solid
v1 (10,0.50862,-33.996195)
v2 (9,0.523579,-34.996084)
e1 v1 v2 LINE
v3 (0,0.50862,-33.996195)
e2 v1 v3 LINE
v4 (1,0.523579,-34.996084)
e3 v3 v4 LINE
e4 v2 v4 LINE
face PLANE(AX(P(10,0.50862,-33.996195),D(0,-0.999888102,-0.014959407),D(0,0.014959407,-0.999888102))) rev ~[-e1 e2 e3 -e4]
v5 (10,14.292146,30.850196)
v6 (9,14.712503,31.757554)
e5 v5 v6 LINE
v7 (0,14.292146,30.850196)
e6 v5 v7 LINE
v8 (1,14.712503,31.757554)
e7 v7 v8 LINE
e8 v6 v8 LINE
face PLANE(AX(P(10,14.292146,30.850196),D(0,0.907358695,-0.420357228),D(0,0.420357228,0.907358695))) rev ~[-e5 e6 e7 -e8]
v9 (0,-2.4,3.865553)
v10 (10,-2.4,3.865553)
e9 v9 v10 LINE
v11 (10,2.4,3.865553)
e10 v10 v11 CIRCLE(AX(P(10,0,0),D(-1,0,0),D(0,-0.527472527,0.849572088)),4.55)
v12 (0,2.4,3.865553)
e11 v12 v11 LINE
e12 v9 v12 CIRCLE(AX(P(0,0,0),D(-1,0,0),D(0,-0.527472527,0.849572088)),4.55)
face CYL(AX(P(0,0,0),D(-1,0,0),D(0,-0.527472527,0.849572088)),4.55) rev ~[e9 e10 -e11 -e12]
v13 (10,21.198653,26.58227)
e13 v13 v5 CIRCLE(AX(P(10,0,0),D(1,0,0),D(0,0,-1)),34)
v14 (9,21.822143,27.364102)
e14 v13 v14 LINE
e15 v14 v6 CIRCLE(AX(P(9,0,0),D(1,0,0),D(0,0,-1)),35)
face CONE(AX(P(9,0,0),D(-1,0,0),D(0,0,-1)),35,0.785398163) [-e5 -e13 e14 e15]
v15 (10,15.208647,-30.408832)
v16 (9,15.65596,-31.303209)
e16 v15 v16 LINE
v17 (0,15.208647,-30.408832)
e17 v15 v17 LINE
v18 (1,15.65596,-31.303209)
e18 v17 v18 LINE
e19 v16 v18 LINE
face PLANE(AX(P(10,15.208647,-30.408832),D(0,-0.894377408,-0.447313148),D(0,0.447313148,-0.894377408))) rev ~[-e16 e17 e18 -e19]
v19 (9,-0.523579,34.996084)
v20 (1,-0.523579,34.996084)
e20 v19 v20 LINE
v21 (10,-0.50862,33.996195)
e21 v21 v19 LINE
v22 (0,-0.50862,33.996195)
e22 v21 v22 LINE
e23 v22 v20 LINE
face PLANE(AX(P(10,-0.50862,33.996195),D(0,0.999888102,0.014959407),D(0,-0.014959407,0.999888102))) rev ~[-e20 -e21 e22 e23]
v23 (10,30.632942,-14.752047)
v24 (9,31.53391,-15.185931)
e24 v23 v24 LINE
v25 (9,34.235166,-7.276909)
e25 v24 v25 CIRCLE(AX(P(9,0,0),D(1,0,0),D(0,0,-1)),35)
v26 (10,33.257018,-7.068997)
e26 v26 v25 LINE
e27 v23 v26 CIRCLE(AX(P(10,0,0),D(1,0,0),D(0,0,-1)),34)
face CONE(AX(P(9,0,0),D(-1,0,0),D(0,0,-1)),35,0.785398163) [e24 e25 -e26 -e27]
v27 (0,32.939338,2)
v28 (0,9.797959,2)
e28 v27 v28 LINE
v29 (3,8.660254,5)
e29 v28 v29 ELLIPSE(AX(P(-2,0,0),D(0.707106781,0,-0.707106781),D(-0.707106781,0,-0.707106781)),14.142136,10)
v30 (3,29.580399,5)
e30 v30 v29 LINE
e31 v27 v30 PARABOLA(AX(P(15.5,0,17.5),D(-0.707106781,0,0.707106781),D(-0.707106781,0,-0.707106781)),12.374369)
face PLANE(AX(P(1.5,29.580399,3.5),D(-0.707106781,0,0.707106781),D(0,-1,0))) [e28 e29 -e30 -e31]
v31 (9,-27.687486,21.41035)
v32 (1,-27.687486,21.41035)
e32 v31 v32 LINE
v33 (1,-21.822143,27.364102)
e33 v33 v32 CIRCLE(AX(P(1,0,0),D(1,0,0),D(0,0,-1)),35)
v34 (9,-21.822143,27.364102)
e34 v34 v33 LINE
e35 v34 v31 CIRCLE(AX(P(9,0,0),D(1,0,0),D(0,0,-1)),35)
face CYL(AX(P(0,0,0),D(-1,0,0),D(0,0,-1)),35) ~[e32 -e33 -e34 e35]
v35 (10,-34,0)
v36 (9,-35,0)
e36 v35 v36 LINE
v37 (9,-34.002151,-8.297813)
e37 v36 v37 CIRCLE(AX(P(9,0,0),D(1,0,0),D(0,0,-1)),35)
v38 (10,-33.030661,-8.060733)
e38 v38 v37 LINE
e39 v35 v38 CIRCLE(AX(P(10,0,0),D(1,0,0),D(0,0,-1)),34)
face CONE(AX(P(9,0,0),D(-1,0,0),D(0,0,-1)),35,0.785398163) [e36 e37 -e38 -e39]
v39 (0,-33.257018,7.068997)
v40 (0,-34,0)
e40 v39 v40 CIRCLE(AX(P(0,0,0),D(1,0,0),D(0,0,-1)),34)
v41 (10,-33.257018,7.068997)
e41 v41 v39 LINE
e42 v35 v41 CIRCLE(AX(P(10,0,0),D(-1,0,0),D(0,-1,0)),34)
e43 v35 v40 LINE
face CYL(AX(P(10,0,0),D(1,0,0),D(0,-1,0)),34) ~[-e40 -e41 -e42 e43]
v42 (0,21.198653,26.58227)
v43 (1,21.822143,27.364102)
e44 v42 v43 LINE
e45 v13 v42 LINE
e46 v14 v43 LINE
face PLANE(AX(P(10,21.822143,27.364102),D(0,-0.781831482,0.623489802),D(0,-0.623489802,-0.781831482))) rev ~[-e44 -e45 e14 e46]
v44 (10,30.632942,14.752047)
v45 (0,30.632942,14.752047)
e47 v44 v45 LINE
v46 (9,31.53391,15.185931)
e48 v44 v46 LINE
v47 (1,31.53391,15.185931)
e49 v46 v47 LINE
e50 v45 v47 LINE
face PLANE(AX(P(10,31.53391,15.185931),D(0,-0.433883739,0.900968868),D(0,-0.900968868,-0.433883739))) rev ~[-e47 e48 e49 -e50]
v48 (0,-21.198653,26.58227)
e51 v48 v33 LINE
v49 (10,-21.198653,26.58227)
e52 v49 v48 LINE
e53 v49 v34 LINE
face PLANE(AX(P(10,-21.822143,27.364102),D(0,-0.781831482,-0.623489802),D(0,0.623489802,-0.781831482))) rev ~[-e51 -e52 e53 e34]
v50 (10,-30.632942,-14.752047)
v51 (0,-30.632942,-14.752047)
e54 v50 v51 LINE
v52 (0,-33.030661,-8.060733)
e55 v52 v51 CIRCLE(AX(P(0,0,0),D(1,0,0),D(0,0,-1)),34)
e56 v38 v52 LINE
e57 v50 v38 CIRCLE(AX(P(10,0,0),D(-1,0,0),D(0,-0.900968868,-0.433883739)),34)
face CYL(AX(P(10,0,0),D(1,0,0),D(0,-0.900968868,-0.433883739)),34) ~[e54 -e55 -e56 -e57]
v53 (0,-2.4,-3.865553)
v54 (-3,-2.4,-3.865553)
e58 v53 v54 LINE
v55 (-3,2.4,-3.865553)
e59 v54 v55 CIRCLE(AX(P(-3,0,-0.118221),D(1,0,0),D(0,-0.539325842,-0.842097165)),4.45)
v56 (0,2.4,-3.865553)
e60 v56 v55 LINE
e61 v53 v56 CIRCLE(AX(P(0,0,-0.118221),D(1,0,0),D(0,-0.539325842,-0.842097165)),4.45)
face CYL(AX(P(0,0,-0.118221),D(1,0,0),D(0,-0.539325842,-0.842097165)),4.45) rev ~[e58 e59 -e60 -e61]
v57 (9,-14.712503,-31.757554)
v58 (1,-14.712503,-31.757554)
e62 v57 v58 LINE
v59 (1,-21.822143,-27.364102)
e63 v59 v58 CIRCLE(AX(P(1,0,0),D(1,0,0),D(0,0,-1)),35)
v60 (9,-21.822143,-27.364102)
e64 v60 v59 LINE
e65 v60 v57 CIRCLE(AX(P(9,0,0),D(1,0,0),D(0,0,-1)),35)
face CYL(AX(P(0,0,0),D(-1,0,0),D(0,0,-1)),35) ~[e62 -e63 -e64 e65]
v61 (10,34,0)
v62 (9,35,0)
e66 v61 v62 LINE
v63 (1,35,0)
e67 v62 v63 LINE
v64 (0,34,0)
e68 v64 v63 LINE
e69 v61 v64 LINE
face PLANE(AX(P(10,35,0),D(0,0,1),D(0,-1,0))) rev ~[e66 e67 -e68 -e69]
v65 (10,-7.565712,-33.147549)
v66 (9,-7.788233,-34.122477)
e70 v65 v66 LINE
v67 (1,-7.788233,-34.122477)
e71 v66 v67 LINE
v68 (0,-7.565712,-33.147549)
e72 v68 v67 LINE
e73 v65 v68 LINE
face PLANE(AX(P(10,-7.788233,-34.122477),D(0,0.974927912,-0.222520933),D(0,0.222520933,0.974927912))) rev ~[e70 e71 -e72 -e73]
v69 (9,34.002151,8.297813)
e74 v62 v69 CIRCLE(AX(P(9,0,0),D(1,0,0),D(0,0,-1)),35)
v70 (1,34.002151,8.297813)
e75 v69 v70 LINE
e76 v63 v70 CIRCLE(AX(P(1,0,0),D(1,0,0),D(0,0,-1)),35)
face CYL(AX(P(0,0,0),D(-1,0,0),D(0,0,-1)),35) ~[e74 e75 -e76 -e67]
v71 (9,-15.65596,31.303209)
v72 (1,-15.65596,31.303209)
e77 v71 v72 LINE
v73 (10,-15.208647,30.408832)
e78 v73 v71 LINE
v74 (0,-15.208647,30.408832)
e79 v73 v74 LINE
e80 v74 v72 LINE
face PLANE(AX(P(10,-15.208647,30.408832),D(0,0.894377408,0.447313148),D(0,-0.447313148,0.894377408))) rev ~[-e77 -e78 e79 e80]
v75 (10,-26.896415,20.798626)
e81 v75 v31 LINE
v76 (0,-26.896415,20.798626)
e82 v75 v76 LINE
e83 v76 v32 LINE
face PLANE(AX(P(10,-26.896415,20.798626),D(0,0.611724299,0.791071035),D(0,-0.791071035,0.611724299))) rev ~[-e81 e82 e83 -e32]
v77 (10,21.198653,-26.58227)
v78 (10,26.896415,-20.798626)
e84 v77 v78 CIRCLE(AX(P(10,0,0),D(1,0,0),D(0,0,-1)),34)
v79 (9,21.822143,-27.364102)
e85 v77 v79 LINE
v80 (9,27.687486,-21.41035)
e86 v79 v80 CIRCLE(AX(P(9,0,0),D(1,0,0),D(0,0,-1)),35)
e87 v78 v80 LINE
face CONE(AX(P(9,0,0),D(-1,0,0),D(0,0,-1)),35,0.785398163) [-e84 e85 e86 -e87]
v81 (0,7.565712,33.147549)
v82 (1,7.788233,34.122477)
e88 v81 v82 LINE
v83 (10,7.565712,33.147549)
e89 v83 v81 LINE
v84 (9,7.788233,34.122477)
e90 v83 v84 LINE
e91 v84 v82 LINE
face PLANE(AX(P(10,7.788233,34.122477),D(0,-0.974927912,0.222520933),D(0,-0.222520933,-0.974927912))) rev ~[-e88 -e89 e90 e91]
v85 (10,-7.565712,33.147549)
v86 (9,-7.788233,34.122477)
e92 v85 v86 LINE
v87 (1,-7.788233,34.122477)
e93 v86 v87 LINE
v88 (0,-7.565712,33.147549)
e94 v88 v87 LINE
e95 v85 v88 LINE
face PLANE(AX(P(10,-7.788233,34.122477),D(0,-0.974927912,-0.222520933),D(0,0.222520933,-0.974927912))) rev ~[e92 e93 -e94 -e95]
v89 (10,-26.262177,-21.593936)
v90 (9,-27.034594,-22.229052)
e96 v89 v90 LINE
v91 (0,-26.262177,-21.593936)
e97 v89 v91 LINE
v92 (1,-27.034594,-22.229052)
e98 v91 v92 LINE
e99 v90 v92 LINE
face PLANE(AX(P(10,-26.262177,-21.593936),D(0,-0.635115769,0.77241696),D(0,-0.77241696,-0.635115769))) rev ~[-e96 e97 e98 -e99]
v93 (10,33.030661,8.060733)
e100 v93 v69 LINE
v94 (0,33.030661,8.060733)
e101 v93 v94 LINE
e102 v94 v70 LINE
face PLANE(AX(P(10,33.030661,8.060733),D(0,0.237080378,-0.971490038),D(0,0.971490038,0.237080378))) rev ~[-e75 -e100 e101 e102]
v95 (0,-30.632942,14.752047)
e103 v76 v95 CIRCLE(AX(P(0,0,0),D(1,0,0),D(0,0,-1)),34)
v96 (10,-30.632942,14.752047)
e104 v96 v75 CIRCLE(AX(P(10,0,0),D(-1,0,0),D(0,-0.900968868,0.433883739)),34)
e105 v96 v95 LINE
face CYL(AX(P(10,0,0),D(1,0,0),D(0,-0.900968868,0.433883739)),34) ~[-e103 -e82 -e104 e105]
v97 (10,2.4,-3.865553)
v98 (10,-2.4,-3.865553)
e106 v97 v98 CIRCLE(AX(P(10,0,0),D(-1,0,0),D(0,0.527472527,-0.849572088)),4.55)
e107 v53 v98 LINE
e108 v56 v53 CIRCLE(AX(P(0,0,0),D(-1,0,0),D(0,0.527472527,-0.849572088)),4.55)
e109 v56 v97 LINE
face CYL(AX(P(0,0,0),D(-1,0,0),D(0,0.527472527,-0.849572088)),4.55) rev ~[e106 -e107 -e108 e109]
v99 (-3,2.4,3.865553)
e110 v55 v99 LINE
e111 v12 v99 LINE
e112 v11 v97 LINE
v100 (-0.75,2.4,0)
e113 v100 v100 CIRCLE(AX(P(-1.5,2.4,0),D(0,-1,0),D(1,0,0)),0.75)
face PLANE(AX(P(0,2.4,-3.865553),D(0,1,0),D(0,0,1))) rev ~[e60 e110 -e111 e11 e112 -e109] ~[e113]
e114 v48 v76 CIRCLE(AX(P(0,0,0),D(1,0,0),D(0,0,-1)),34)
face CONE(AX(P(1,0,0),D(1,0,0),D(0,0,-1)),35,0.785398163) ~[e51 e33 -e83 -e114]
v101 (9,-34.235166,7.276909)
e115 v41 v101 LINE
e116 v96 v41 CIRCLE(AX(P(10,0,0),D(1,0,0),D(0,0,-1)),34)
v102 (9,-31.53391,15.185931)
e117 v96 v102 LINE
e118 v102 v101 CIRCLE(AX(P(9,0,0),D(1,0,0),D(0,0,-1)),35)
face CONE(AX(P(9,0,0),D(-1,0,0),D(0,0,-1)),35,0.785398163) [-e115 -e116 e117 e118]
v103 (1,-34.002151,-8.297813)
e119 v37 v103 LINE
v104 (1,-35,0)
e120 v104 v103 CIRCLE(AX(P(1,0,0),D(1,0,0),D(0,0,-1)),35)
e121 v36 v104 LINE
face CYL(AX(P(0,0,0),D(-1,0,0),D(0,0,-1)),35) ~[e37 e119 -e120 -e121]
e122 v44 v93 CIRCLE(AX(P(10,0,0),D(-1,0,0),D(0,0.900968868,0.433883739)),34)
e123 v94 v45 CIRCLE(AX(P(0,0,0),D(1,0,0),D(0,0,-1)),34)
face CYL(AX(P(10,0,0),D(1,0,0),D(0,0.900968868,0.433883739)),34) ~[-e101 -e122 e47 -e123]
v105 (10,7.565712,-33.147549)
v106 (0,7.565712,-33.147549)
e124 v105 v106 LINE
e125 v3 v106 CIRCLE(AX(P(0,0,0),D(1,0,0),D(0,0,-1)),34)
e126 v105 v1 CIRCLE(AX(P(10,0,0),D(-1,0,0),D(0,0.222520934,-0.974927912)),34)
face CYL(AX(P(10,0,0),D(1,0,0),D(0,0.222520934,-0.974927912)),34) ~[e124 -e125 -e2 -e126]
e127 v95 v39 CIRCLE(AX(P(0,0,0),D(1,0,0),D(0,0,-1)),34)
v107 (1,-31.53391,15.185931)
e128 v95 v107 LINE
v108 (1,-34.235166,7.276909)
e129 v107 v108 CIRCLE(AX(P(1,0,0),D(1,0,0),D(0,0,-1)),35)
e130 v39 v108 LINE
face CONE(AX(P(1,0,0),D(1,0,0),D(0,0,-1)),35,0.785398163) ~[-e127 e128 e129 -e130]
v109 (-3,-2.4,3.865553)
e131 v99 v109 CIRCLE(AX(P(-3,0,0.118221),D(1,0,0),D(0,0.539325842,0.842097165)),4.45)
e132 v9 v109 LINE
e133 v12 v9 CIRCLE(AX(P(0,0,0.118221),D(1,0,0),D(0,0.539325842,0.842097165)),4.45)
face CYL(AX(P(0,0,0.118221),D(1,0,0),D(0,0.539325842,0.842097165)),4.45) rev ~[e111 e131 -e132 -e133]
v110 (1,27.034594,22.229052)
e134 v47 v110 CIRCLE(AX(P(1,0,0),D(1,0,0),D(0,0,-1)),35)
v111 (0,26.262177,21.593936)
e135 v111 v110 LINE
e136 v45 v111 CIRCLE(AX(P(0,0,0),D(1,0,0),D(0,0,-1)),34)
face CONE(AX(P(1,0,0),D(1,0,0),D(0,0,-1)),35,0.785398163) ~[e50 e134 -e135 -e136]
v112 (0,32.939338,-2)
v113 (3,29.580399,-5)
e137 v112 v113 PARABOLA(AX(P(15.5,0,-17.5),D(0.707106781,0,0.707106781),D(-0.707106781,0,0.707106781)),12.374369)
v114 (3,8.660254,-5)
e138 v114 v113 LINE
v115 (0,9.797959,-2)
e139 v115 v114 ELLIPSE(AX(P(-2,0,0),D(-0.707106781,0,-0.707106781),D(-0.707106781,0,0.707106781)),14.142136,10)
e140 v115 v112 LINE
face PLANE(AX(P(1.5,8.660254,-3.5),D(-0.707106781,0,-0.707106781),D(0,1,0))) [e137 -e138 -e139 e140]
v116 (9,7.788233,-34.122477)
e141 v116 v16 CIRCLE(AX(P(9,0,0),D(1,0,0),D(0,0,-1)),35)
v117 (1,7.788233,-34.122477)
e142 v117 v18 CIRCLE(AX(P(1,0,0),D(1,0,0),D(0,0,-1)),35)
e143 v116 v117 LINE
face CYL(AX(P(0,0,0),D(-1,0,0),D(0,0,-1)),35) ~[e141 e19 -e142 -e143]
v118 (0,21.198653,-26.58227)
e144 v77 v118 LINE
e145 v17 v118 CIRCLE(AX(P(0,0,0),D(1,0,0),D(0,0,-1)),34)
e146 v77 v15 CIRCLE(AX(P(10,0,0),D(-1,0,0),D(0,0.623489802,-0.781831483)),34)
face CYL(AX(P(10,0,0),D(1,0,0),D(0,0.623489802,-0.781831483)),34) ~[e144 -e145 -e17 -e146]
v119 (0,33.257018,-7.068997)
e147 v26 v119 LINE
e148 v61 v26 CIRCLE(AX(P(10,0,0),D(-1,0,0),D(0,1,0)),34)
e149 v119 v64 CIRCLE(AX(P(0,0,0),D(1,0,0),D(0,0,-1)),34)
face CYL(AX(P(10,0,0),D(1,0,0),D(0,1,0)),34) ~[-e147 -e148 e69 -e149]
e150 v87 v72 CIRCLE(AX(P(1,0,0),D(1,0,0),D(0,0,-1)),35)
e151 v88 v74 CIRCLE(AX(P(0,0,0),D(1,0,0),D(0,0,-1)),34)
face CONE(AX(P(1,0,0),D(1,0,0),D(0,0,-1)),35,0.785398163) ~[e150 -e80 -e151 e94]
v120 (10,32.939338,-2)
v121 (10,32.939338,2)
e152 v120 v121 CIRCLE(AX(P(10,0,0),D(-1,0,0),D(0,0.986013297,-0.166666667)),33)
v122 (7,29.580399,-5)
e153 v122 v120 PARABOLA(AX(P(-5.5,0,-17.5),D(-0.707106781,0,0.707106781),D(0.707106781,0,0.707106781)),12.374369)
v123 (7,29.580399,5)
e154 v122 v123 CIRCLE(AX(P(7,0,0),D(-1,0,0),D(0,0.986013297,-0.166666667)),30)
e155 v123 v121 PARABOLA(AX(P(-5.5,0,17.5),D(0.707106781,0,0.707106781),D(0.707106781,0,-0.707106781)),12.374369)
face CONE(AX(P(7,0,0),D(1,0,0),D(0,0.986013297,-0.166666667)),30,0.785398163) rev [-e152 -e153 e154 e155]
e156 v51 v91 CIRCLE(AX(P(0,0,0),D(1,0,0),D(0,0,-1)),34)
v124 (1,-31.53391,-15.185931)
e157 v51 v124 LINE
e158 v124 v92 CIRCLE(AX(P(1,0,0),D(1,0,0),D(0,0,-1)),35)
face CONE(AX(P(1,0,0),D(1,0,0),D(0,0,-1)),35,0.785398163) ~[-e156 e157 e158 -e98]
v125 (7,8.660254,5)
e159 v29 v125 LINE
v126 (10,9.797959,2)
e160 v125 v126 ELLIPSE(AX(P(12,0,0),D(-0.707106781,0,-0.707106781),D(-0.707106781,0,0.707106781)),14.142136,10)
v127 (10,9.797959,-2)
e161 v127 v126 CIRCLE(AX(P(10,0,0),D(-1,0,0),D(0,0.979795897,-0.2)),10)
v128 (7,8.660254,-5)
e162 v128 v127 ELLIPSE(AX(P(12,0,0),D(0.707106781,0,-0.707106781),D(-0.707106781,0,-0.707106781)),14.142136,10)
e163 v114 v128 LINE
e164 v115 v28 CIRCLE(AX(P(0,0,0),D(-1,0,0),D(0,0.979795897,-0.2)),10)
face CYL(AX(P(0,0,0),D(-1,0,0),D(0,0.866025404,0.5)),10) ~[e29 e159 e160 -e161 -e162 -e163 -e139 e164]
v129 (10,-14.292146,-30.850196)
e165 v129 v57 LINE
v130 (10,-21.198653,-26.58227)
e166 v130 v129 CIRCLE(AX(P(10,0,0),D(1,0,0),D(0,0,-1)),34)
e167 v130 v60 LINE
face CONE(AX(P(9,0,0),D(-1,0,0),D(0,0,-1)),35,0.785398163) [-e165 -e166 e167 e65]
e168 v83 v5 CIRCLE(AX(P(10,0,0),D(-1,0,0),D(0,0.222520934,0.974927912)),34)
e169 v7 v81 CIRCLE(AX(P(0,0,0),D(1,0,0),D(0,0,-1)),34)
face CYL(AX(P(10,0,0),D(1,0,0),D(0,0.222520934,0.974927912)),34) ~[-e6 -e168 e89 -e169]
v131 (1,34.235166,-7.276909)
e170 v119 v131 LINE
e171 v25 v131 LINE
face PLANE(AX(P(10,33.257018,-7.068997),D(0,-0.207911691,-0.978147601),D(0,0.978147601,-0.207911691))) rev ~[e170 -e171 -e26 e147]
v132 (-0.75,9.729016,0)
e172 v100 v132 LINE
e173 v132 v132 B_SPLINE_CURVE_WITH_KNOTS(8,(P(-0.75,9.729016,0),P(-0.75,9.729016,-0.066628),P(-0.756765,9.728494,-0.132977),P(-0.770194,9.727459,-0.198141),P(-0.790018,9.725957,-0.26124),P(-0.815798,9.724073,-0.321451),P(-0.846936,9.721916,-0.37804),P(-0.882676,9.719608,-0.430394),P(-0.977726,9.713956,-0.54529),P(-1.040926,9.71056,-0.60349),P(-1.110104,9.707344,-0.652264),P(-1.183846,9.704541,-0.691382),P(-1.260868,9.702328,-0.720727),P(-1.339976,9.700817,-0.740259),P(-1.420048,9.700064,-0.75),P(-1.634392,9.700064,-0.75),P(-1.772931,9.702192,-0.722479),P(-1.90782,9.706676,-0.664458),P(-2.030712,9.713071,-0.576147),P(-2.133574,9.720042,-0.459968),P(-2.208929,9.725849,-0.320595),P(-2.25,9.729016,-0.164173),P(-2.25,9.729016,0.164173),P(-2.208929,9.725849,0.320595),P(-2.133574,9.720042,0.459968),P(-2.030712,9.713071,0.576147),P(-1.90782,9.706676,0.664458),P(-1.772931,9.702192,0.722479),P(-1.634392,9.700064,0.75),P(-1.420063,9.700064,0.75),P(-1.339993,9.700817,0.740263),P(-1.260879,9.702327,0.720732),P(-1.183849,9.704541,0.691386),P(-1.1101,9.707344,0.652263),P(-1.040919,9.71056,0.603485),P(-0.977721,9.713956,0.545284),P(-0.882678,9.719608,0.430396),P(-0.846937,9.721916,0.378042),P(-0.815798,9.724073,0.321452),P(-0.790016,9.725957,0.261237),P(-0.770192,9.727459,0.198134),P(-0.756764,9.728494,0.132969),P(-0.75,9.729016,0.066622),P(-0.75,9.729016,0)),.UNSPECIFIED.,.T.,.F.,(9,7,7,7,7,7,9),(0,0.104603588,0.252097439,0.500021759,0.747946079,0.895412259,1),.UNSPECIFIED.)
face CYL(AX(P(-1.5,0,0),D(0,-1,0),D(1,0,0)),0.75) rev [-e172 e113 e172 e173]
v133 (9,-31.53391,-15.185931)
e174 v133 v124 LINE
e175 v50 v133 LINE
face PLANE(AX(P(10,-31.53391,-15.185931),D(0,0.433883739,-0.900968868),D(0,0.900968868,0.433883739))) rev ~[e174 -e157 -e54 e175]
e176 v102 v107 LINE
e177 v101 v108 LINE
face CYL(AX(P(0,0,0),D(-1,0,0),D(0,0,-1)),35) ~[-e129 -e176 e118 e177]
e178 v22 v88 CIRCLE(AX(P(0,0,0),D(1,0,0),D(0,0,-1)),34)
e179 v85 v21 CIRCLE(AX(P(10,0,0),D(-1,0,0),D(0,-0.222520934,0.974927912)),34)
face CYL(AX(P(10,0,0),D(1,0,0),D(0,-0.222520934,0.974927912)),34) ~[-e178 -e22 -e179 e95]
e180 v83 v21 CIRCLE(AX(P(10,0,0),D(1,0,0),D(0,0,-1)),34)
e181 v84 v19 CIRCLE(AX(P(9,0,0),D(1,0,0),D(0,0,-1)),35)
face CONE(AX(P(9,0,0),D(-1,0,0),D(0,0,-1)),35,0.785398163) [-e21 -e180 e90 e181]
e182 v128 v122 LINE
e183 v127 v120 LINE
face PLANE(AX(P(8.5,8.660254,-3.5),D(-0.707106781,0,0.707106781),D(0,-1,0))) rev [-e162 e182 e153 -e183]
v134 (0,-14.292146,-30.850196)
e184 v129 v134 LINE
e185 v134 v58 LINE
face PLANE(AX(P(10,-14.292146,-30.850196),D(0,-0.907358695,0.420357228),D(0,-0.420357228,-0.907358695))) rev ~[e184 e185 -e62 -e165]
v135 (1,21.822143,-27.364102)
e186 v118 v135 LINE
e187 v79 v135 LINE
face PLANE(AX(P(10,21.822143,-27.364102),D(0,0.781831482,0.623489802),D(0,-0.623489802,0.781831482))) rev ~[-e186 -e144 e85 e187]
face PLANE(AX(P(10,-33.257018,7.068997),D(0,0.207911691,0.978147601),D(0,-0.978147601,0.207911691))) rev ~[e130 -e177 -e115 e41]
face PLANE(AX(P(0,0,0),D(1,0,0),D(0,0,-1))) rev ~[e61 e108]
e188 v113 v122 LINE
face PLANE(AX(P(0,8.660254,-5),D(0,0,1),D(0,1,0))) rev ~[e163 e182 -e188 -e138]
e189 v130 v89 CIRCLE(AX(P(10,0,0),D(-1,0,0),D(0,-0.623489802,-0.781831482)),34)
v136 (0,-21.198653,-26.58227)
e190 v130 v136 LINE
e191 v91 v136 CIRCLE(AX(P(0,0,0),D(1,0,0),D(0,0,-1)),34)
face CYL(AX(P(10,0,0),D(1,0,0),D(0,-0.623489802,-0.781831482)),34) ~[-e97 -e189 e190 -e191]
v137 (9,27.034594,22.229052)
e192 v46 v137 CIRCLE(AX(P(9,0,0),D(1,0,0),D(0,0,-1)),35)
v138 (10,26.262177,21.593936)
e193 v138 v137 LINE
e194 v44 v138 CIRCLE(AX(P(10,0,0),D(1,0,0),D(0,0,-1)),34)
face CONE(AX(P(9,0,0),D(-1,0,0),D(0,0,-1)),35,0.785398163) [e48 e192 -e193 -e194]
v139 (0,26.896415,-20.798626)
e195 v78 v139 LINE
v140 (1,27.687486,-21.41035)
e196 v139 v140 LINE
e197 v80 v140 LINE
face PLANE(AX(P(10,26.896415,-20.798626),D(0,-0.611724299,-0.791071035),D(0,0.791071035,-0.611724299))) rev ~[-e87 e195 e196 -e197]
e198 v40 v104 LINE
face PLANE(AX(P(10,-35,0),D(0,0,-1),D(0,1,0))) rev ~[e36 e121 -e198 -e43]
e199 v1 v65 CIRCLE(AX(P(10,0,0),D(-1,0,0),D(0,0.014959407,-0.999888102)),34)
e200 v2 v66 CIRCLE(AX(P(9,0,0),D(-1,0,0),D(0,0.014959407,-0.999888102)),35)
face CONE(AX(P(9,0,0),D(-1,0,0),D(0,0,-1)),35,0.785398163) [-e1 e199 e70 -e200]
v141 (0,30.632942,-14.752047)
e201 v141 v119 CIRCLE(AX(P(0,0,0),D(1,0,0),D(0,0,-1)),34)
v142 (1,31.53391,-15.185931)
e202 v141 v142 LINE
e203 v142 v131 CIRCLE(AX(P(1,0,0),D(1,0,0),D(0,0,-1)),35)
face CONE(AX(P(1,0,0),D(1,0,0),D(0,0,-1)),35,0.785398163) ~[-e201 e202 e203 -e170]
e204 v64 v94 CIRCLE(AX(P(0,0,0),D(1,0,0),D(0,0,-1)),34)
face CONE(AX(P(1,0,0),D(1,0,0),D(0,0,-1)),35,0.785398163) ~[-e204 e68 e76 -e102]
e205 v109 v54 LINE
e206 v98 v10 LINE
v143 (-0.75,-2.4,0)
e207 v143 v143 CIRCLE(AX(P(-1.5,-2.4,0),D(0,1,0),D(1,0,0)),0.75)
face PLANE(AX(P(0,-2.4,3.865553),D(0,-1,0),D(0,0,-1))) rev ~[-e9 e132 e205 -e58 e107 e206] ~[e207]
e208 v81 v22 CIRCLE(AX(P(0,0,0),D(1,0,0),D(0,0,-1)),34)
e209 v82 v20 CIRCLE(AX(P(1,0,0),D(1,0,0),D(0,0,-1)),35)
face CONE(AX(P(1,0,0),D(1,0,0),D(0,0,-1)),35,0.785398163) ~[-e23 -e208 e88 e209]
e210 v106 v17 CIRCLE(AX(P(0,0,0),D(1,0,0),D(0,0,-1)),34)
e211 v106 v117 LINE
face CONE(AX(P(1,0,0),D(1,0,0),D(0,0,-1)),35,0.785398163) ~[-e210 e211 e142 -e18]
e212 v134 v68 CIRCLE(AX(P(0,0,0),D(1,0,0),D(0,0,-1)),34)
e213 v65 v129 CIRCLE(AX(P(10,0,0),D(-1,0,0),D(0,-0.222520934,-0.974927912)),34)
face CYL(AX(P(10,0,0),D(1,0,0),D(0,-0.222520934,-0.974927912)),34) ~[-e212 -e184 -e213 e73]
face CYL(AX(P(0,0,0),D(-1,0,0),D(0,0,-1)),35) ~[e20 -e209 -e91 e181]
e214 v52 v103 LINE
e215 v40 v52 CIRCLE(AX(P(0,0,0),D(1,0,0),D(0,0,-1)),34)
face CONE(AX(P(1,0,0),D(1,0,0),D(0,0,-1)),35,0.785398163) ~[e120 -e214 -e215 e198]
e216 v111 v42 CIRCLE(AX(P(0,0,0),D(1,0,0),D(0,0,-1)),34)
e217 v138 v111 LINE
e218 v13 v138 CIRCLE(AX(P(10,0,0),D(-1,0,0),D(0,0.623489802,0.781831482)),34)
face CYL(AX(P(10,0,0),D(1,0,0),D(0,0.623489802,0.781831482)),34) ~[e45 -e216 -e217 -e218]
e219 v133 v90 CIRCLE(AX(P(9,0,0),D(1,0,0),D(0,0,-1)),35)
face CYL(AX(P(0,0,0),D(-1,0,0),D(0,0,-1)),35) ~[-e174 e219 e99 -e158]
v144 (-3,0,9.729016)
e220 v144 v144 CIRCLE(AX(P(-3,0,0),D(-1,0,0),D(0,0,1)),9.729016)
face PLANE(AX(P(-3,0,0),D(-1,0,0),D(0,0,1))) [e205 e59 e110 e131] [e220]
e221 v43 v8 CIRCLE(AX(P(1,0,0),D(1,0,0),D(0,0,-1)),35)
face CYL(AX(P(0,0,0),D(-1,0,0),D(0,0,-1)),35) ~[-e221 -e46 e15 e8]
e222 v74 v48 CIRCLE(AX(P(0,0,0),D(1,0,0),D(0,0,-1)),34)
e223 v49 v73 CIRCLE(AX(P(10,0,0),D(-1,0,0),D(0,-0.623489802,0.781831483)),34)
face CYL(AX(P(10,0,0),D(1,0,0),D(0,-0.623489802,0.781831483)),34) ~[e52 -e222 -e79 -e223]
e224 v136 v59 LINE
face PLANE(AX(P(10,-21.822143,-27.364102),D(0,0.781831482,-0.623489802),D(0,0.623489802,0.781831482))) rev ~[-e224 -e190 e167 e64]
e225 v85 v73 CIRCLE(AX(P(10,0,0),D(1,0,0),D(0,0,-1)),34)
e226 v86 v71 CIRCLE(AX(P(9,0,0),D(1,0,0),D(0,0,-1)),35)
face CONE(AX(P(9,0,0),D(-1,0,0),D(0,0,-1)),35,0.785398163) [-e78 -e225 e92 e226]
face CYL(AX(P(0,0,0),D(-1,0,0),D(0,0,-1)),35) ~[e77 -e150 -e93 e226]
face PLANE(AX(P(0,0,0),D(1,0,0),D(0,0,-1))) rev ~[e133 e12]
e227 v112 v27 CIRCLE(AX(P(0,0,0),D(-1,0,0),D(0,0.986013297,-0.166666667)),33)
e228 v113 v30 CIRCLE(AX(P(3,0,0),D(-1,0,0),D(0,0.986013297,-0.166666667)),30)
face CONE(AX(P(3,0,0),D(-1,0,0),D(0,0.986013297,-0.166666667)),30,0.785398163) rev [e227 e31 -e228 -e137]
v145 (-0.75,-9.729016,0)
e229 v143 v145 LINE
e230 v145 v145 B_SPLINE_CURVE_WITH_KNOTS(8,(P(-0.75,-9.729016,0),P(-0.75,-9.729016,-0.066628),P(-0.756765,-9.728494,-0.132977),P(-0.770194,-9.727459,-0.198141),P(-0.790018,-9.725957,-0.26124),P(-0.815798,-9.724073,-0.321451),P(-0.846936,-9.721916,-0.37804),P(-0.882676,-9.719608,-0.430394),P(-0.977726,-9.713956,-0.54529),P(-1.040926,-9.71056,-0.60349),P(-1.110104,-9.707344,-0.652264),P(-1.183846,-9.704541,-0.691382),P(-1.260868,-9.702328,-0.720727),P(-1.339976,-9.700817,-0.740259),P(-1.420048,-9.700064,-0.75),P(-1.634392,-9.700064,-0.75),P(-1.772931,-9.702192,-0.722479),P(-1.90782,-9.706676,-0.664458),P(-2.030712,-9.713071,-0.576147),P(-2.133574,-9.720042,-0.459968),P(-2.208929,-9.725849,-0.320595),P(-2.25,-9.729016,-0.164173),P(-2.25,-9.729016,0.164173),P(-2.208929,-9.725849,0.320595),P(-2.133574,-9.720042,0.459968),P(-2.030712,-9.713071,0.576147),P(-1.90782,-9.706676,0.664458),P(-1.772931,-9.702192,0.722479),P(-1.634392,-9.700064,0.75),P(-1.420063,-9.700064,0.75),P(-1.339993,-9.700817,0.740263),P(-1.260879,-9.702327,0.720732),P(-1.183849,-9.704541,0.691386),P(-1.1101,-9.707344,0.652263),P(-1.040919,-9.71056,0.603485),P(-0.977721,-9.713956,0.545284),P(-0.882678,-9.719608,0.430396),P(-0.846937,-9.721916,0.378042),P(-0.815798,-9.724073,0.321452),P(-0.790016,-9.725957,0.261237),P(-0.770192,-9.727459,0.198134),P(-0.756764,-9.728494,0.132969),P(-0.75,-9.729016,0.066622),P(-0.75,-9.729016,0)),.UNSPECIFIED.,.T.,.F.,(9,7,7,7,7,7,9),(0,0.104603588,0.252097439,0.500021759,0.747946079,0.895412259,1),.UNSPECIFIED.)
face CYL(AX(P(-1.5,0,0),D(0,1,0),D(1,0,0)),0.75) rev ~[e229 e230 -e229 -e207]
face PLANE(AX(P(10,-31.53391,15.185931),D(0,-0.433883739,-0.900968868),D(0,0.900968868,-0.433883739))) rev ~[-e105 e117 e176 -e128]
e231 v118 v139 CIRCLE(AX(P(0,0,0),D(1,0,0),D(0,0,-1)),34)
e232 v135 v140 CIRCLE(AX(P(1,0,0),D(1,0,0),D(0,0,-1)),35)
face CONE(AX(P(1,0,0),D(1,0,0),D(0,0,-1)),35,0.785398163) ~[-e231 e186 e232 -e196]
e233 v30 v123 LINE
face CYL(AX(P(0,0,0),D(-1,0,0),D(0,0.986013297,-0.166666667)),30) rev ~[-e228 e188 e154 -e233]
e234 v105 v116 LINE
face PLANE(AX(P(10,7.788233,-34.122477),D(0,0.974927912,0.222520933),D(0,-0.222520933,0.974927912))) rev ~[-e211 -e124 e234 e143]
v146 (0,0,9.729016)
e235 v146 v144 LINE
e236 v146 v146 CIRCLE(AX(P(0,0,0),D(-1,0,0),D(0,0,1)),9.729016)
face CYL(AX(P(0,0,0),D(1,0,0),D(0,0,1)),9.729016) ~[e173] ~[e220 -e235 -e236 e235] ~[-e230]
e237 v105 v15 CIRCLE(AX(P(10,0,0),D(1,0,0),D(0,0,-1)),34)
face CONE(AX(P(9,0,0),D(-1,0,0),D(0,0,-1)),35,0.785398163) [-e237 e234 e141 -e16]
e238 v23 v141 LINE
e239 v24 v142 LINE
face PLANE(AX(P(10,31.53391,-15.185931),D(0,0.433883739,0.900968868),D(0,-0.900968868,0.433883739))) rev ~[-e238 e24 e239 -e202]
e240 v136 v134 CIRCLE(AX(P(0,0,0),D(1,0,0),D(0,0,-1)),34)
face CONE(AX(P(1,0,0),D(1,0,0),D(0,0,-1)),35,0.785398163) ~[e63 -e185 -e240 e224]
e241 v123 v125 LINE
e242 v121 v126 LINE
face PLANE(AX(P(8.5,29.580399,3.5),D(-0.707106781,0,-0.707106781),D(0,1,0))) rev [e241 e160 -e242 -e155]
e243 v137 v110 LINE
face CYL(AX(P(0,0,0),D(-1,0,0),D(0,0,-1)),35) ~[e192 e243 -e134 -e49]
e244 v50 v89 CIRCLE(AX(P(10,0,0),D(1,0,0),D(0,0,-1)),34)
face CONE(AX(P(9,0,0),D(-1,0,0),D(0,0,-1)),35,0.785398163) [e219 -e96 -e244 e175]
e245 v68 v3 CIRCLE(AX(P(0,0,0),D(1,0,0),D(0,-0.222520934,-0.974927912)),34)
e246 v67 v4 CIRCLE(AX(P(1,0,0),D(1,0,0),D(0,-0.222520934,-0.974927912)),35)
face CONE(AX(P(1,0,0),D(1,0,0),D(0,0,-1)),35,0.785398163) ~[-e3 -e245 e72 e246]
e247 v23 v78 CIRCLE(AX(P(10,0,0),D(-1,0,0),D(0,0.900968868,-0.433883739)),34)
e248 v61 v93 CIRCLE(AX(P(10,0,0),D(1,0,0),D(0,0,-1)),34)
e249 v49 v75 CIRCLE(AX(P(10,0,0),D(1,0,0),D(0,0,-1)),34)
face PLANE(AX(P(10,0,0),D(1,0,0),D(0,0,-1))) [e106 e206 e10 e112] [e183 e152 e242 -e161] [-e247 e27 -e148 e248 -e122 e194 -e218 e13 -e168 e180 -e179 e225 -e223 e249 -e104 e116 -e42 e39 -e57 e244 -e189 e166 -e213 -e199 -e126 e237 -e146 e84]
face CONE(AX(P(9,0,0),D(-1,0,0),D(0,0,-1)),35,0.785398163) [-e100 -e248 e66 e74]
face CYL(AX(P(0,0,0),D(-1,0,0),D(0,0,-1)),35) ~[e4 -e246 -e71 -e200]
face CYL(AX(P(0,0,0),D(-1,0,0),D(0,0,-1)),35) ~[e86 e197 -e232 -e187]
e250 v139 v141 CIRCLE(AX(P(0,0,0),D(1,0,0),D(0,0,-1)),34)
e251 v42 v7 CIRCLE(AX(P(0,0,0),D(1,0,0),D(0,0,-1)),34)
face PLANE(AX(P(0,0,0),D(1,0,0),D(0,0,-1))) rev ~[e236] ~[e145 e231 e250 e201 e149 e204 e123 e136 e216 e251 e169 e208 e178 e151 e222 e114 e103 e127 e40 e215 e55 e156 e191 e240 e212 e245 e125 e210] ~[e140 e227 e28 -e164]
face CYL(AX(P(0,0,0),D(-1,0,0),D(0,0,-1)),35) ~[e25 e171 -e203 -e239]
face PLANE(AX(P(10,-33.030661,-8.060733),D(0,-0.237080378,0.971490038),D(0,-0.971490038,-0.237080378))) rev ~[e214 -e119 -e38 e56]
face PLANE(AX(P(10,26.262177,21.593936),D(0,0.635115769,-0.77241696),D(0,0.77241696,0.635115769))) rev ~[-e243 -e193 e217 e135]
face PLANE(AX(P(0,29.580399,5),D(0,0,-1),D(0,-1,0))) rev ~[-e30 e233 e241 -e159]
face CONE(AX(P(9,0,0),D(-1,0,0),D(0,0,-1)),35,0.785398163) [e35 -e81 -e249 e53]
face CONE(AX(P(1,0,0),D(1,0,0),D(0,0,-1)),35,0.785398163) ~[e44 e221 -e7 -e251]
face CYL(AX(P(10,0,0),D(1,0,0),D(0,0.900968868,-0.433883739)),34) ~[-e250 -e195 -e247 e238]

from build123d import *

# Parameters (mm, degrees)
SKETCH1_R               = 35
BOSS_EXTRUDE1_DEPTH     = 10
CHAMFER1_SIZE           = 1
CUT_EXTRUDE1_DEPTH      = 11
SKETCH3_R               = 1.5
CUT_EXTRUDE2_DEPTH      = 11
CUT_EXTRUDE3_DEPTH      = 10
SKETCH5_R               = 9.729015648
BOSS_EXTRUDE2_DEPTH     = 3
SKETCH6_R               = 0.75
CUT_EXTRUDE4_DEPTH      = 36
CUT_EXTRUDE4_DEPTH_BACK = 36
CHAMFER2_SIZE           = 3


with BuildPart() as part:
    # Sketch1 → Boss-Extrude1 (new body)
    with BuildSketch(Plane(origin=(0, 0, 0), x_dir=(0, 0, -1), z_dir=(1, 0, 0))):
        Circle(SKETCH1_R)
        with BuildLine():
            Line((-5, 29.580398915), (-5, 8.660254038))
            ThreePointArc((-5, 8.660254038), (0, -10), (5, 8.660254038))
            Line((5, 8.660254038), (5, 29.580398915))
            ThreePointArc((5, 29.580398915), (0, -30), (-5, 29.580398915))
        make_face(mode=Mode.SUBTRACT)
    extrude(amount=BOSS_EXTRUDE1_DEPTH)

    # Chamfer1
    chamfer1_edges = [part.edges().sort_by_distance(p)[0] for p in [
        (0, 0, 35),
        (10, 0, 35),
    ]]
    chamfer(chamfer1_edges, length=CHAMFER1_SIZE)

    # Sketch2 → Cut-Extrude1 (cut, through all)
    with BuildSketch(Plane(origin=(10, 0, 0), x_dir=(0, 0, -1), z_dir=(1, 0, 0))):
        with BuildLine():
            Line((0, 35), (0, 34))
            ThreePointArc((0, 34), (3.553967751, 33.813744443), (7.068997488, 33.257018425))
            Line((7.068997488, 33.257018425), (7.276909179, 34.235166026))
            ThreePointArc((7.276909179, 34.235166026), (3.658496214, 34.808266338), (0, 35))
        make_face()
        with BuildLine():
            Line((15.185930869, 31.533910377), (14.75204713, 30.632941509))
            ThreePointArc((14.75204713, 30.632941509), (17.873248174, 28.923122233), (20.79862617, 26.896415178))
            Line((20.79862617, 26.896415178), (21.410350469, 27.687486213))
            ThreePointArc((21.410350469, 27.687486213), (18.398931943, 29.773802299), (15.185930869, 31.533910377))
        make_face()
        with BuildLine():
            Line((27.364101886, 21.822143065), (26.582270404, 21.198653263))
            ThreePointArc((26.582270404, 21.198653263), (28.652512594, 18.303920947), (30.408831861, 15.208647043))
            Line((30.408831861, 15.208647043), (31.303209268, 15.655960191))
            ThreePointArc((31.303209268, 15.655960191), (29.495233553, 18.842271563), (27.364101886, 21.822143065))
        make_face()
        with BuildLine():
            Line((34.122476926, 7.788232688), (33.147549014, 7.565711755))
            ThreePointArc((33.147549014, 7.565711755), (33.756795496, 4.059403634), (33.996195462, 0.508619839))
            Line((33.996195462, 0.508619839), (34.996083563, 0.523579246))
            ThreePointArc((34.996083563, 0.523579246), (34.749642422, 4.178797859), (34.122476926, 7.788232688))
        make_face()
        with BuildLine():
            Line((34.122476926, -7.788232688), (33.147549014, -7.565711755))
            ThreePointArc((33.147549014, -7.565711755), (32.175131049, -10.989128353), (30.850195615, -14.292145763))
            Line((30.850195615, -14.292145763), (31.75755431, -14.712502991))
            ThreePointArc((31.75755431, -14.712502991), (33.121458433, -11.312338011), (34.122476926, -7.788232688))
        make_face()
        with BuildLine():
            Line((27.364101886, -21.822143065), (26.582270404, -21.198653263))
            ThreePointArc((26.582270404, -21.198653263), (24.220787296, -23.861128698), (21.593936175, -26.262176614))
            Line((21.593936175, -26.262176614), (22.229051944, -27.034593573))
            ThreePointArc((22.229051944, -27.034593573), (24.933163393, -24.562926601), (27.364101886, -21.822143065))
        make_face()
        with BuildLine():
            Line((15.185930869, -31.533910377), (14.75204713, -30.632941509))
            ThreePointArc((14.75204713, -30.632941509), (11.469219571, -32.007139866), (8.060732842, -33.030661302))
            Line((8.060732842, -33.030661302), (8.29781322, -34.00215134))
            ThreePointArc((8.29781322, -34.00215134), (11.806549558, -32.948526333), (15.185930869, -31.533910377))
        make_face()
        with BuildLine():
            Line((0, -35), (0, -34))
            ThreePointArc((0, -34), (-3.553967751, -33.813744443), (-7.068997488, -33.257018425))
            Line((-7.068997488, -33.257018425), (-7.276909179, -34.235166026))
            ThreePointArc((-7.276909179, -34.235166026), (-3.658496214, -34.808266338), (0, -35))
        make_face()
        with BuildLine():
            Line((-15.185930869, -31.533910377), (-14.75204713, -30.632941509))
            ThreePointArc((-14.75204713, -30.632941509), (-17.873248174, -28.923122233), (-20.79862617, -26.896415178))
            Line((-20.79862617, -26.896415178), (-21.410350469, -27.687486213))
            ThreePointArc((-21.410350469, -27.687486213), (-18.398931943, -29.773802299), (-15.185930869, -31.533910377))
        make_face()
        with BuildLine():
            Line((-27.364101886, -21.822143065), (-26.582270404, -21.198653263))
            ThreePointArc((-26.582270404, -21.198653263), (-28.652512594, -18.303920947), (-30.408831861, -15.208647043))
            Line((-30.408831861, -15.208647043), (-31.303209268, -15.655960191))
            ThreePointArc((-31.303209268, -15.655960191), (-29.495233553, -18.842271563), (-27.364101886, -21.822143065))
        make_face()
        with BuildLine():
            Line((-34.122476926, -7.788232688), (-33.147549014, -7.565711755))
            ThreePointArc((-33.147549014, -7.565711755), (-33.756795496, -4.059403634), (-33.996195462, -0.508619839))
            Line((-33.996195462, -0.508619839), (-34.996083563, -0.523579246))
            ThreePointArc((-34.996083563, -0.523579246), (-34.749642422, -4.178797859), (-34.122476926, -7.788232688))
        make_face()
        with BuildLine():
            Line((-34.122476926, 7.788232688), (-33.147549014, 7.565711755))
            ThreePointArc((-33.147549014, 7.565711755), (-32.175131049, 10.989128353), (-30.850195615, 14.292145763))
            Line((-30.850195615, 14.292145763), (-31.75755431, 14.712502991))
            ThreePointArc((-31.75755431, 14.712502991), (-33.121458433, 11.312338011), (-34.122476926, 7.788232688))
        make_face()
        with BuildLine():
            Line((-27.364101886, 21.822143065), (-26.582270404, 21.198653263))
            ThreePointArc((-26.582270404, 21.198653263), (-24.220787296, 23.861128698), (-21.593936175, 26.262176614))
            Line((-21.593936175, 26.262176614), (-22.229051944, 27.034593573))
            ThreePointArc((-22.229051944, 27.034593573), (-24.933163393, 24.562926601), (-27.364101886, 21.822143065))
        make_face()
        with BuildLine():
            Line((-15.185930869, 31.533910377), (-14.75204713, 30.632941509))
            ThreePointArc((-14.75204713, 30.632941509), (-11.469219571, 32.007139866), (-8.060732842, 33.030661302))
            Line((-8.060732842, 33.030661302), (-8.29781322, 34.00215134))
            ThreePointArc((-8.29781322, 34.00215134), (-11.806549558, 32.948526333), (-15.185930869, 31.533910377))
        make_face()
    extrude(amount=-CUT_EXTRUDE1_DEPTH, mode=Mode.SUBTRACT)

    # Sketch3 → Cut-Extrude2 (cut, through all)
    with BuildSketch(Plane.ZY):
        Circle(SKETCH3_R)
    extrude(amount=-CUT_EXTRUDE2_DEPTH, mode=Mode.SUBTRACT)

    # Sketch4 → Cut-Extrude3 (cut)
    with BuildSketch(Plane.ZY):
        with BuildLine():
            Line((-3.865553001, -2.4), (3.865553001, -2.4))
            ThreePointArc((3.865553001, -2.4), (4.55, 0), (3.865553001, 2.4))
            Line((3.865553001, 2.4), (-3.865553001, 2.4))
            ThreePointArc((-3.865553001, 2.4), (-4.55, 0), (-3.865553001, -2.4))
        make_face()
    extrude(amount=-CUT_EXTRUDE3_DEPTH, mode=Mode.SUBTRACT)

    # Sketch5 → Boss-Extrude2 (add)
    with BuildSketch(Plane.ZY):
        Circle(SKETCH5_R)
        with BuildLine():
            Line((-3.865553001, 2.4), (3.865553001, 2.4))
            ThreePointArc((3.865553001, 2.4), (4.568220616, 0), (3.865553001, -2.4))
            Line((3.865553001, -2.4), (-3.865553001, -2.4))
            ThreePointArc((-3.865553001, -2.4), (-4.568220616, 0), (-3.865553001, 2.4))
        make_face(mode=Mode.SUBTRACT)
    extrude(amount=BOSS_EXTRUDE2_DEPTH)

    # Sketch6 → Cut-Extrude4 (cut, two sides)
    with BuildSketch(Plane(origin=(0, 0, 0), x_dir=(1, 0, 0), z_dir=(0, 1, 0))) as cut_extrude4_sk:
        with Locations((-1.5, 0)):
            Circle(SKETCH6_R)
    extrude(amount=CUT_EXTRUDE4_DEPTH, mode=Mode.SUBTRACT)
    extrude(cut_extrude4_sk.sketch, amount=-CUT_EXTRUDE4_DEPTH_BACK, mode=Mode.SUBTRACT)

    # Chamfer2
    chamfer2_edges = [part.edges().sort_by_distance(p)[0] for p in [
        (10, 19.120326477, 5),
        (0, -30, 0),
        (0, 19.120326477, -5),
        (0, 19.120326477, 5),
        (10, -30, 0),
        (10, 19.120326477, -5),
    ]]
    chamfer(chamfer2_edges, length=CHAMFER2_SIZE)


solid = part.part
